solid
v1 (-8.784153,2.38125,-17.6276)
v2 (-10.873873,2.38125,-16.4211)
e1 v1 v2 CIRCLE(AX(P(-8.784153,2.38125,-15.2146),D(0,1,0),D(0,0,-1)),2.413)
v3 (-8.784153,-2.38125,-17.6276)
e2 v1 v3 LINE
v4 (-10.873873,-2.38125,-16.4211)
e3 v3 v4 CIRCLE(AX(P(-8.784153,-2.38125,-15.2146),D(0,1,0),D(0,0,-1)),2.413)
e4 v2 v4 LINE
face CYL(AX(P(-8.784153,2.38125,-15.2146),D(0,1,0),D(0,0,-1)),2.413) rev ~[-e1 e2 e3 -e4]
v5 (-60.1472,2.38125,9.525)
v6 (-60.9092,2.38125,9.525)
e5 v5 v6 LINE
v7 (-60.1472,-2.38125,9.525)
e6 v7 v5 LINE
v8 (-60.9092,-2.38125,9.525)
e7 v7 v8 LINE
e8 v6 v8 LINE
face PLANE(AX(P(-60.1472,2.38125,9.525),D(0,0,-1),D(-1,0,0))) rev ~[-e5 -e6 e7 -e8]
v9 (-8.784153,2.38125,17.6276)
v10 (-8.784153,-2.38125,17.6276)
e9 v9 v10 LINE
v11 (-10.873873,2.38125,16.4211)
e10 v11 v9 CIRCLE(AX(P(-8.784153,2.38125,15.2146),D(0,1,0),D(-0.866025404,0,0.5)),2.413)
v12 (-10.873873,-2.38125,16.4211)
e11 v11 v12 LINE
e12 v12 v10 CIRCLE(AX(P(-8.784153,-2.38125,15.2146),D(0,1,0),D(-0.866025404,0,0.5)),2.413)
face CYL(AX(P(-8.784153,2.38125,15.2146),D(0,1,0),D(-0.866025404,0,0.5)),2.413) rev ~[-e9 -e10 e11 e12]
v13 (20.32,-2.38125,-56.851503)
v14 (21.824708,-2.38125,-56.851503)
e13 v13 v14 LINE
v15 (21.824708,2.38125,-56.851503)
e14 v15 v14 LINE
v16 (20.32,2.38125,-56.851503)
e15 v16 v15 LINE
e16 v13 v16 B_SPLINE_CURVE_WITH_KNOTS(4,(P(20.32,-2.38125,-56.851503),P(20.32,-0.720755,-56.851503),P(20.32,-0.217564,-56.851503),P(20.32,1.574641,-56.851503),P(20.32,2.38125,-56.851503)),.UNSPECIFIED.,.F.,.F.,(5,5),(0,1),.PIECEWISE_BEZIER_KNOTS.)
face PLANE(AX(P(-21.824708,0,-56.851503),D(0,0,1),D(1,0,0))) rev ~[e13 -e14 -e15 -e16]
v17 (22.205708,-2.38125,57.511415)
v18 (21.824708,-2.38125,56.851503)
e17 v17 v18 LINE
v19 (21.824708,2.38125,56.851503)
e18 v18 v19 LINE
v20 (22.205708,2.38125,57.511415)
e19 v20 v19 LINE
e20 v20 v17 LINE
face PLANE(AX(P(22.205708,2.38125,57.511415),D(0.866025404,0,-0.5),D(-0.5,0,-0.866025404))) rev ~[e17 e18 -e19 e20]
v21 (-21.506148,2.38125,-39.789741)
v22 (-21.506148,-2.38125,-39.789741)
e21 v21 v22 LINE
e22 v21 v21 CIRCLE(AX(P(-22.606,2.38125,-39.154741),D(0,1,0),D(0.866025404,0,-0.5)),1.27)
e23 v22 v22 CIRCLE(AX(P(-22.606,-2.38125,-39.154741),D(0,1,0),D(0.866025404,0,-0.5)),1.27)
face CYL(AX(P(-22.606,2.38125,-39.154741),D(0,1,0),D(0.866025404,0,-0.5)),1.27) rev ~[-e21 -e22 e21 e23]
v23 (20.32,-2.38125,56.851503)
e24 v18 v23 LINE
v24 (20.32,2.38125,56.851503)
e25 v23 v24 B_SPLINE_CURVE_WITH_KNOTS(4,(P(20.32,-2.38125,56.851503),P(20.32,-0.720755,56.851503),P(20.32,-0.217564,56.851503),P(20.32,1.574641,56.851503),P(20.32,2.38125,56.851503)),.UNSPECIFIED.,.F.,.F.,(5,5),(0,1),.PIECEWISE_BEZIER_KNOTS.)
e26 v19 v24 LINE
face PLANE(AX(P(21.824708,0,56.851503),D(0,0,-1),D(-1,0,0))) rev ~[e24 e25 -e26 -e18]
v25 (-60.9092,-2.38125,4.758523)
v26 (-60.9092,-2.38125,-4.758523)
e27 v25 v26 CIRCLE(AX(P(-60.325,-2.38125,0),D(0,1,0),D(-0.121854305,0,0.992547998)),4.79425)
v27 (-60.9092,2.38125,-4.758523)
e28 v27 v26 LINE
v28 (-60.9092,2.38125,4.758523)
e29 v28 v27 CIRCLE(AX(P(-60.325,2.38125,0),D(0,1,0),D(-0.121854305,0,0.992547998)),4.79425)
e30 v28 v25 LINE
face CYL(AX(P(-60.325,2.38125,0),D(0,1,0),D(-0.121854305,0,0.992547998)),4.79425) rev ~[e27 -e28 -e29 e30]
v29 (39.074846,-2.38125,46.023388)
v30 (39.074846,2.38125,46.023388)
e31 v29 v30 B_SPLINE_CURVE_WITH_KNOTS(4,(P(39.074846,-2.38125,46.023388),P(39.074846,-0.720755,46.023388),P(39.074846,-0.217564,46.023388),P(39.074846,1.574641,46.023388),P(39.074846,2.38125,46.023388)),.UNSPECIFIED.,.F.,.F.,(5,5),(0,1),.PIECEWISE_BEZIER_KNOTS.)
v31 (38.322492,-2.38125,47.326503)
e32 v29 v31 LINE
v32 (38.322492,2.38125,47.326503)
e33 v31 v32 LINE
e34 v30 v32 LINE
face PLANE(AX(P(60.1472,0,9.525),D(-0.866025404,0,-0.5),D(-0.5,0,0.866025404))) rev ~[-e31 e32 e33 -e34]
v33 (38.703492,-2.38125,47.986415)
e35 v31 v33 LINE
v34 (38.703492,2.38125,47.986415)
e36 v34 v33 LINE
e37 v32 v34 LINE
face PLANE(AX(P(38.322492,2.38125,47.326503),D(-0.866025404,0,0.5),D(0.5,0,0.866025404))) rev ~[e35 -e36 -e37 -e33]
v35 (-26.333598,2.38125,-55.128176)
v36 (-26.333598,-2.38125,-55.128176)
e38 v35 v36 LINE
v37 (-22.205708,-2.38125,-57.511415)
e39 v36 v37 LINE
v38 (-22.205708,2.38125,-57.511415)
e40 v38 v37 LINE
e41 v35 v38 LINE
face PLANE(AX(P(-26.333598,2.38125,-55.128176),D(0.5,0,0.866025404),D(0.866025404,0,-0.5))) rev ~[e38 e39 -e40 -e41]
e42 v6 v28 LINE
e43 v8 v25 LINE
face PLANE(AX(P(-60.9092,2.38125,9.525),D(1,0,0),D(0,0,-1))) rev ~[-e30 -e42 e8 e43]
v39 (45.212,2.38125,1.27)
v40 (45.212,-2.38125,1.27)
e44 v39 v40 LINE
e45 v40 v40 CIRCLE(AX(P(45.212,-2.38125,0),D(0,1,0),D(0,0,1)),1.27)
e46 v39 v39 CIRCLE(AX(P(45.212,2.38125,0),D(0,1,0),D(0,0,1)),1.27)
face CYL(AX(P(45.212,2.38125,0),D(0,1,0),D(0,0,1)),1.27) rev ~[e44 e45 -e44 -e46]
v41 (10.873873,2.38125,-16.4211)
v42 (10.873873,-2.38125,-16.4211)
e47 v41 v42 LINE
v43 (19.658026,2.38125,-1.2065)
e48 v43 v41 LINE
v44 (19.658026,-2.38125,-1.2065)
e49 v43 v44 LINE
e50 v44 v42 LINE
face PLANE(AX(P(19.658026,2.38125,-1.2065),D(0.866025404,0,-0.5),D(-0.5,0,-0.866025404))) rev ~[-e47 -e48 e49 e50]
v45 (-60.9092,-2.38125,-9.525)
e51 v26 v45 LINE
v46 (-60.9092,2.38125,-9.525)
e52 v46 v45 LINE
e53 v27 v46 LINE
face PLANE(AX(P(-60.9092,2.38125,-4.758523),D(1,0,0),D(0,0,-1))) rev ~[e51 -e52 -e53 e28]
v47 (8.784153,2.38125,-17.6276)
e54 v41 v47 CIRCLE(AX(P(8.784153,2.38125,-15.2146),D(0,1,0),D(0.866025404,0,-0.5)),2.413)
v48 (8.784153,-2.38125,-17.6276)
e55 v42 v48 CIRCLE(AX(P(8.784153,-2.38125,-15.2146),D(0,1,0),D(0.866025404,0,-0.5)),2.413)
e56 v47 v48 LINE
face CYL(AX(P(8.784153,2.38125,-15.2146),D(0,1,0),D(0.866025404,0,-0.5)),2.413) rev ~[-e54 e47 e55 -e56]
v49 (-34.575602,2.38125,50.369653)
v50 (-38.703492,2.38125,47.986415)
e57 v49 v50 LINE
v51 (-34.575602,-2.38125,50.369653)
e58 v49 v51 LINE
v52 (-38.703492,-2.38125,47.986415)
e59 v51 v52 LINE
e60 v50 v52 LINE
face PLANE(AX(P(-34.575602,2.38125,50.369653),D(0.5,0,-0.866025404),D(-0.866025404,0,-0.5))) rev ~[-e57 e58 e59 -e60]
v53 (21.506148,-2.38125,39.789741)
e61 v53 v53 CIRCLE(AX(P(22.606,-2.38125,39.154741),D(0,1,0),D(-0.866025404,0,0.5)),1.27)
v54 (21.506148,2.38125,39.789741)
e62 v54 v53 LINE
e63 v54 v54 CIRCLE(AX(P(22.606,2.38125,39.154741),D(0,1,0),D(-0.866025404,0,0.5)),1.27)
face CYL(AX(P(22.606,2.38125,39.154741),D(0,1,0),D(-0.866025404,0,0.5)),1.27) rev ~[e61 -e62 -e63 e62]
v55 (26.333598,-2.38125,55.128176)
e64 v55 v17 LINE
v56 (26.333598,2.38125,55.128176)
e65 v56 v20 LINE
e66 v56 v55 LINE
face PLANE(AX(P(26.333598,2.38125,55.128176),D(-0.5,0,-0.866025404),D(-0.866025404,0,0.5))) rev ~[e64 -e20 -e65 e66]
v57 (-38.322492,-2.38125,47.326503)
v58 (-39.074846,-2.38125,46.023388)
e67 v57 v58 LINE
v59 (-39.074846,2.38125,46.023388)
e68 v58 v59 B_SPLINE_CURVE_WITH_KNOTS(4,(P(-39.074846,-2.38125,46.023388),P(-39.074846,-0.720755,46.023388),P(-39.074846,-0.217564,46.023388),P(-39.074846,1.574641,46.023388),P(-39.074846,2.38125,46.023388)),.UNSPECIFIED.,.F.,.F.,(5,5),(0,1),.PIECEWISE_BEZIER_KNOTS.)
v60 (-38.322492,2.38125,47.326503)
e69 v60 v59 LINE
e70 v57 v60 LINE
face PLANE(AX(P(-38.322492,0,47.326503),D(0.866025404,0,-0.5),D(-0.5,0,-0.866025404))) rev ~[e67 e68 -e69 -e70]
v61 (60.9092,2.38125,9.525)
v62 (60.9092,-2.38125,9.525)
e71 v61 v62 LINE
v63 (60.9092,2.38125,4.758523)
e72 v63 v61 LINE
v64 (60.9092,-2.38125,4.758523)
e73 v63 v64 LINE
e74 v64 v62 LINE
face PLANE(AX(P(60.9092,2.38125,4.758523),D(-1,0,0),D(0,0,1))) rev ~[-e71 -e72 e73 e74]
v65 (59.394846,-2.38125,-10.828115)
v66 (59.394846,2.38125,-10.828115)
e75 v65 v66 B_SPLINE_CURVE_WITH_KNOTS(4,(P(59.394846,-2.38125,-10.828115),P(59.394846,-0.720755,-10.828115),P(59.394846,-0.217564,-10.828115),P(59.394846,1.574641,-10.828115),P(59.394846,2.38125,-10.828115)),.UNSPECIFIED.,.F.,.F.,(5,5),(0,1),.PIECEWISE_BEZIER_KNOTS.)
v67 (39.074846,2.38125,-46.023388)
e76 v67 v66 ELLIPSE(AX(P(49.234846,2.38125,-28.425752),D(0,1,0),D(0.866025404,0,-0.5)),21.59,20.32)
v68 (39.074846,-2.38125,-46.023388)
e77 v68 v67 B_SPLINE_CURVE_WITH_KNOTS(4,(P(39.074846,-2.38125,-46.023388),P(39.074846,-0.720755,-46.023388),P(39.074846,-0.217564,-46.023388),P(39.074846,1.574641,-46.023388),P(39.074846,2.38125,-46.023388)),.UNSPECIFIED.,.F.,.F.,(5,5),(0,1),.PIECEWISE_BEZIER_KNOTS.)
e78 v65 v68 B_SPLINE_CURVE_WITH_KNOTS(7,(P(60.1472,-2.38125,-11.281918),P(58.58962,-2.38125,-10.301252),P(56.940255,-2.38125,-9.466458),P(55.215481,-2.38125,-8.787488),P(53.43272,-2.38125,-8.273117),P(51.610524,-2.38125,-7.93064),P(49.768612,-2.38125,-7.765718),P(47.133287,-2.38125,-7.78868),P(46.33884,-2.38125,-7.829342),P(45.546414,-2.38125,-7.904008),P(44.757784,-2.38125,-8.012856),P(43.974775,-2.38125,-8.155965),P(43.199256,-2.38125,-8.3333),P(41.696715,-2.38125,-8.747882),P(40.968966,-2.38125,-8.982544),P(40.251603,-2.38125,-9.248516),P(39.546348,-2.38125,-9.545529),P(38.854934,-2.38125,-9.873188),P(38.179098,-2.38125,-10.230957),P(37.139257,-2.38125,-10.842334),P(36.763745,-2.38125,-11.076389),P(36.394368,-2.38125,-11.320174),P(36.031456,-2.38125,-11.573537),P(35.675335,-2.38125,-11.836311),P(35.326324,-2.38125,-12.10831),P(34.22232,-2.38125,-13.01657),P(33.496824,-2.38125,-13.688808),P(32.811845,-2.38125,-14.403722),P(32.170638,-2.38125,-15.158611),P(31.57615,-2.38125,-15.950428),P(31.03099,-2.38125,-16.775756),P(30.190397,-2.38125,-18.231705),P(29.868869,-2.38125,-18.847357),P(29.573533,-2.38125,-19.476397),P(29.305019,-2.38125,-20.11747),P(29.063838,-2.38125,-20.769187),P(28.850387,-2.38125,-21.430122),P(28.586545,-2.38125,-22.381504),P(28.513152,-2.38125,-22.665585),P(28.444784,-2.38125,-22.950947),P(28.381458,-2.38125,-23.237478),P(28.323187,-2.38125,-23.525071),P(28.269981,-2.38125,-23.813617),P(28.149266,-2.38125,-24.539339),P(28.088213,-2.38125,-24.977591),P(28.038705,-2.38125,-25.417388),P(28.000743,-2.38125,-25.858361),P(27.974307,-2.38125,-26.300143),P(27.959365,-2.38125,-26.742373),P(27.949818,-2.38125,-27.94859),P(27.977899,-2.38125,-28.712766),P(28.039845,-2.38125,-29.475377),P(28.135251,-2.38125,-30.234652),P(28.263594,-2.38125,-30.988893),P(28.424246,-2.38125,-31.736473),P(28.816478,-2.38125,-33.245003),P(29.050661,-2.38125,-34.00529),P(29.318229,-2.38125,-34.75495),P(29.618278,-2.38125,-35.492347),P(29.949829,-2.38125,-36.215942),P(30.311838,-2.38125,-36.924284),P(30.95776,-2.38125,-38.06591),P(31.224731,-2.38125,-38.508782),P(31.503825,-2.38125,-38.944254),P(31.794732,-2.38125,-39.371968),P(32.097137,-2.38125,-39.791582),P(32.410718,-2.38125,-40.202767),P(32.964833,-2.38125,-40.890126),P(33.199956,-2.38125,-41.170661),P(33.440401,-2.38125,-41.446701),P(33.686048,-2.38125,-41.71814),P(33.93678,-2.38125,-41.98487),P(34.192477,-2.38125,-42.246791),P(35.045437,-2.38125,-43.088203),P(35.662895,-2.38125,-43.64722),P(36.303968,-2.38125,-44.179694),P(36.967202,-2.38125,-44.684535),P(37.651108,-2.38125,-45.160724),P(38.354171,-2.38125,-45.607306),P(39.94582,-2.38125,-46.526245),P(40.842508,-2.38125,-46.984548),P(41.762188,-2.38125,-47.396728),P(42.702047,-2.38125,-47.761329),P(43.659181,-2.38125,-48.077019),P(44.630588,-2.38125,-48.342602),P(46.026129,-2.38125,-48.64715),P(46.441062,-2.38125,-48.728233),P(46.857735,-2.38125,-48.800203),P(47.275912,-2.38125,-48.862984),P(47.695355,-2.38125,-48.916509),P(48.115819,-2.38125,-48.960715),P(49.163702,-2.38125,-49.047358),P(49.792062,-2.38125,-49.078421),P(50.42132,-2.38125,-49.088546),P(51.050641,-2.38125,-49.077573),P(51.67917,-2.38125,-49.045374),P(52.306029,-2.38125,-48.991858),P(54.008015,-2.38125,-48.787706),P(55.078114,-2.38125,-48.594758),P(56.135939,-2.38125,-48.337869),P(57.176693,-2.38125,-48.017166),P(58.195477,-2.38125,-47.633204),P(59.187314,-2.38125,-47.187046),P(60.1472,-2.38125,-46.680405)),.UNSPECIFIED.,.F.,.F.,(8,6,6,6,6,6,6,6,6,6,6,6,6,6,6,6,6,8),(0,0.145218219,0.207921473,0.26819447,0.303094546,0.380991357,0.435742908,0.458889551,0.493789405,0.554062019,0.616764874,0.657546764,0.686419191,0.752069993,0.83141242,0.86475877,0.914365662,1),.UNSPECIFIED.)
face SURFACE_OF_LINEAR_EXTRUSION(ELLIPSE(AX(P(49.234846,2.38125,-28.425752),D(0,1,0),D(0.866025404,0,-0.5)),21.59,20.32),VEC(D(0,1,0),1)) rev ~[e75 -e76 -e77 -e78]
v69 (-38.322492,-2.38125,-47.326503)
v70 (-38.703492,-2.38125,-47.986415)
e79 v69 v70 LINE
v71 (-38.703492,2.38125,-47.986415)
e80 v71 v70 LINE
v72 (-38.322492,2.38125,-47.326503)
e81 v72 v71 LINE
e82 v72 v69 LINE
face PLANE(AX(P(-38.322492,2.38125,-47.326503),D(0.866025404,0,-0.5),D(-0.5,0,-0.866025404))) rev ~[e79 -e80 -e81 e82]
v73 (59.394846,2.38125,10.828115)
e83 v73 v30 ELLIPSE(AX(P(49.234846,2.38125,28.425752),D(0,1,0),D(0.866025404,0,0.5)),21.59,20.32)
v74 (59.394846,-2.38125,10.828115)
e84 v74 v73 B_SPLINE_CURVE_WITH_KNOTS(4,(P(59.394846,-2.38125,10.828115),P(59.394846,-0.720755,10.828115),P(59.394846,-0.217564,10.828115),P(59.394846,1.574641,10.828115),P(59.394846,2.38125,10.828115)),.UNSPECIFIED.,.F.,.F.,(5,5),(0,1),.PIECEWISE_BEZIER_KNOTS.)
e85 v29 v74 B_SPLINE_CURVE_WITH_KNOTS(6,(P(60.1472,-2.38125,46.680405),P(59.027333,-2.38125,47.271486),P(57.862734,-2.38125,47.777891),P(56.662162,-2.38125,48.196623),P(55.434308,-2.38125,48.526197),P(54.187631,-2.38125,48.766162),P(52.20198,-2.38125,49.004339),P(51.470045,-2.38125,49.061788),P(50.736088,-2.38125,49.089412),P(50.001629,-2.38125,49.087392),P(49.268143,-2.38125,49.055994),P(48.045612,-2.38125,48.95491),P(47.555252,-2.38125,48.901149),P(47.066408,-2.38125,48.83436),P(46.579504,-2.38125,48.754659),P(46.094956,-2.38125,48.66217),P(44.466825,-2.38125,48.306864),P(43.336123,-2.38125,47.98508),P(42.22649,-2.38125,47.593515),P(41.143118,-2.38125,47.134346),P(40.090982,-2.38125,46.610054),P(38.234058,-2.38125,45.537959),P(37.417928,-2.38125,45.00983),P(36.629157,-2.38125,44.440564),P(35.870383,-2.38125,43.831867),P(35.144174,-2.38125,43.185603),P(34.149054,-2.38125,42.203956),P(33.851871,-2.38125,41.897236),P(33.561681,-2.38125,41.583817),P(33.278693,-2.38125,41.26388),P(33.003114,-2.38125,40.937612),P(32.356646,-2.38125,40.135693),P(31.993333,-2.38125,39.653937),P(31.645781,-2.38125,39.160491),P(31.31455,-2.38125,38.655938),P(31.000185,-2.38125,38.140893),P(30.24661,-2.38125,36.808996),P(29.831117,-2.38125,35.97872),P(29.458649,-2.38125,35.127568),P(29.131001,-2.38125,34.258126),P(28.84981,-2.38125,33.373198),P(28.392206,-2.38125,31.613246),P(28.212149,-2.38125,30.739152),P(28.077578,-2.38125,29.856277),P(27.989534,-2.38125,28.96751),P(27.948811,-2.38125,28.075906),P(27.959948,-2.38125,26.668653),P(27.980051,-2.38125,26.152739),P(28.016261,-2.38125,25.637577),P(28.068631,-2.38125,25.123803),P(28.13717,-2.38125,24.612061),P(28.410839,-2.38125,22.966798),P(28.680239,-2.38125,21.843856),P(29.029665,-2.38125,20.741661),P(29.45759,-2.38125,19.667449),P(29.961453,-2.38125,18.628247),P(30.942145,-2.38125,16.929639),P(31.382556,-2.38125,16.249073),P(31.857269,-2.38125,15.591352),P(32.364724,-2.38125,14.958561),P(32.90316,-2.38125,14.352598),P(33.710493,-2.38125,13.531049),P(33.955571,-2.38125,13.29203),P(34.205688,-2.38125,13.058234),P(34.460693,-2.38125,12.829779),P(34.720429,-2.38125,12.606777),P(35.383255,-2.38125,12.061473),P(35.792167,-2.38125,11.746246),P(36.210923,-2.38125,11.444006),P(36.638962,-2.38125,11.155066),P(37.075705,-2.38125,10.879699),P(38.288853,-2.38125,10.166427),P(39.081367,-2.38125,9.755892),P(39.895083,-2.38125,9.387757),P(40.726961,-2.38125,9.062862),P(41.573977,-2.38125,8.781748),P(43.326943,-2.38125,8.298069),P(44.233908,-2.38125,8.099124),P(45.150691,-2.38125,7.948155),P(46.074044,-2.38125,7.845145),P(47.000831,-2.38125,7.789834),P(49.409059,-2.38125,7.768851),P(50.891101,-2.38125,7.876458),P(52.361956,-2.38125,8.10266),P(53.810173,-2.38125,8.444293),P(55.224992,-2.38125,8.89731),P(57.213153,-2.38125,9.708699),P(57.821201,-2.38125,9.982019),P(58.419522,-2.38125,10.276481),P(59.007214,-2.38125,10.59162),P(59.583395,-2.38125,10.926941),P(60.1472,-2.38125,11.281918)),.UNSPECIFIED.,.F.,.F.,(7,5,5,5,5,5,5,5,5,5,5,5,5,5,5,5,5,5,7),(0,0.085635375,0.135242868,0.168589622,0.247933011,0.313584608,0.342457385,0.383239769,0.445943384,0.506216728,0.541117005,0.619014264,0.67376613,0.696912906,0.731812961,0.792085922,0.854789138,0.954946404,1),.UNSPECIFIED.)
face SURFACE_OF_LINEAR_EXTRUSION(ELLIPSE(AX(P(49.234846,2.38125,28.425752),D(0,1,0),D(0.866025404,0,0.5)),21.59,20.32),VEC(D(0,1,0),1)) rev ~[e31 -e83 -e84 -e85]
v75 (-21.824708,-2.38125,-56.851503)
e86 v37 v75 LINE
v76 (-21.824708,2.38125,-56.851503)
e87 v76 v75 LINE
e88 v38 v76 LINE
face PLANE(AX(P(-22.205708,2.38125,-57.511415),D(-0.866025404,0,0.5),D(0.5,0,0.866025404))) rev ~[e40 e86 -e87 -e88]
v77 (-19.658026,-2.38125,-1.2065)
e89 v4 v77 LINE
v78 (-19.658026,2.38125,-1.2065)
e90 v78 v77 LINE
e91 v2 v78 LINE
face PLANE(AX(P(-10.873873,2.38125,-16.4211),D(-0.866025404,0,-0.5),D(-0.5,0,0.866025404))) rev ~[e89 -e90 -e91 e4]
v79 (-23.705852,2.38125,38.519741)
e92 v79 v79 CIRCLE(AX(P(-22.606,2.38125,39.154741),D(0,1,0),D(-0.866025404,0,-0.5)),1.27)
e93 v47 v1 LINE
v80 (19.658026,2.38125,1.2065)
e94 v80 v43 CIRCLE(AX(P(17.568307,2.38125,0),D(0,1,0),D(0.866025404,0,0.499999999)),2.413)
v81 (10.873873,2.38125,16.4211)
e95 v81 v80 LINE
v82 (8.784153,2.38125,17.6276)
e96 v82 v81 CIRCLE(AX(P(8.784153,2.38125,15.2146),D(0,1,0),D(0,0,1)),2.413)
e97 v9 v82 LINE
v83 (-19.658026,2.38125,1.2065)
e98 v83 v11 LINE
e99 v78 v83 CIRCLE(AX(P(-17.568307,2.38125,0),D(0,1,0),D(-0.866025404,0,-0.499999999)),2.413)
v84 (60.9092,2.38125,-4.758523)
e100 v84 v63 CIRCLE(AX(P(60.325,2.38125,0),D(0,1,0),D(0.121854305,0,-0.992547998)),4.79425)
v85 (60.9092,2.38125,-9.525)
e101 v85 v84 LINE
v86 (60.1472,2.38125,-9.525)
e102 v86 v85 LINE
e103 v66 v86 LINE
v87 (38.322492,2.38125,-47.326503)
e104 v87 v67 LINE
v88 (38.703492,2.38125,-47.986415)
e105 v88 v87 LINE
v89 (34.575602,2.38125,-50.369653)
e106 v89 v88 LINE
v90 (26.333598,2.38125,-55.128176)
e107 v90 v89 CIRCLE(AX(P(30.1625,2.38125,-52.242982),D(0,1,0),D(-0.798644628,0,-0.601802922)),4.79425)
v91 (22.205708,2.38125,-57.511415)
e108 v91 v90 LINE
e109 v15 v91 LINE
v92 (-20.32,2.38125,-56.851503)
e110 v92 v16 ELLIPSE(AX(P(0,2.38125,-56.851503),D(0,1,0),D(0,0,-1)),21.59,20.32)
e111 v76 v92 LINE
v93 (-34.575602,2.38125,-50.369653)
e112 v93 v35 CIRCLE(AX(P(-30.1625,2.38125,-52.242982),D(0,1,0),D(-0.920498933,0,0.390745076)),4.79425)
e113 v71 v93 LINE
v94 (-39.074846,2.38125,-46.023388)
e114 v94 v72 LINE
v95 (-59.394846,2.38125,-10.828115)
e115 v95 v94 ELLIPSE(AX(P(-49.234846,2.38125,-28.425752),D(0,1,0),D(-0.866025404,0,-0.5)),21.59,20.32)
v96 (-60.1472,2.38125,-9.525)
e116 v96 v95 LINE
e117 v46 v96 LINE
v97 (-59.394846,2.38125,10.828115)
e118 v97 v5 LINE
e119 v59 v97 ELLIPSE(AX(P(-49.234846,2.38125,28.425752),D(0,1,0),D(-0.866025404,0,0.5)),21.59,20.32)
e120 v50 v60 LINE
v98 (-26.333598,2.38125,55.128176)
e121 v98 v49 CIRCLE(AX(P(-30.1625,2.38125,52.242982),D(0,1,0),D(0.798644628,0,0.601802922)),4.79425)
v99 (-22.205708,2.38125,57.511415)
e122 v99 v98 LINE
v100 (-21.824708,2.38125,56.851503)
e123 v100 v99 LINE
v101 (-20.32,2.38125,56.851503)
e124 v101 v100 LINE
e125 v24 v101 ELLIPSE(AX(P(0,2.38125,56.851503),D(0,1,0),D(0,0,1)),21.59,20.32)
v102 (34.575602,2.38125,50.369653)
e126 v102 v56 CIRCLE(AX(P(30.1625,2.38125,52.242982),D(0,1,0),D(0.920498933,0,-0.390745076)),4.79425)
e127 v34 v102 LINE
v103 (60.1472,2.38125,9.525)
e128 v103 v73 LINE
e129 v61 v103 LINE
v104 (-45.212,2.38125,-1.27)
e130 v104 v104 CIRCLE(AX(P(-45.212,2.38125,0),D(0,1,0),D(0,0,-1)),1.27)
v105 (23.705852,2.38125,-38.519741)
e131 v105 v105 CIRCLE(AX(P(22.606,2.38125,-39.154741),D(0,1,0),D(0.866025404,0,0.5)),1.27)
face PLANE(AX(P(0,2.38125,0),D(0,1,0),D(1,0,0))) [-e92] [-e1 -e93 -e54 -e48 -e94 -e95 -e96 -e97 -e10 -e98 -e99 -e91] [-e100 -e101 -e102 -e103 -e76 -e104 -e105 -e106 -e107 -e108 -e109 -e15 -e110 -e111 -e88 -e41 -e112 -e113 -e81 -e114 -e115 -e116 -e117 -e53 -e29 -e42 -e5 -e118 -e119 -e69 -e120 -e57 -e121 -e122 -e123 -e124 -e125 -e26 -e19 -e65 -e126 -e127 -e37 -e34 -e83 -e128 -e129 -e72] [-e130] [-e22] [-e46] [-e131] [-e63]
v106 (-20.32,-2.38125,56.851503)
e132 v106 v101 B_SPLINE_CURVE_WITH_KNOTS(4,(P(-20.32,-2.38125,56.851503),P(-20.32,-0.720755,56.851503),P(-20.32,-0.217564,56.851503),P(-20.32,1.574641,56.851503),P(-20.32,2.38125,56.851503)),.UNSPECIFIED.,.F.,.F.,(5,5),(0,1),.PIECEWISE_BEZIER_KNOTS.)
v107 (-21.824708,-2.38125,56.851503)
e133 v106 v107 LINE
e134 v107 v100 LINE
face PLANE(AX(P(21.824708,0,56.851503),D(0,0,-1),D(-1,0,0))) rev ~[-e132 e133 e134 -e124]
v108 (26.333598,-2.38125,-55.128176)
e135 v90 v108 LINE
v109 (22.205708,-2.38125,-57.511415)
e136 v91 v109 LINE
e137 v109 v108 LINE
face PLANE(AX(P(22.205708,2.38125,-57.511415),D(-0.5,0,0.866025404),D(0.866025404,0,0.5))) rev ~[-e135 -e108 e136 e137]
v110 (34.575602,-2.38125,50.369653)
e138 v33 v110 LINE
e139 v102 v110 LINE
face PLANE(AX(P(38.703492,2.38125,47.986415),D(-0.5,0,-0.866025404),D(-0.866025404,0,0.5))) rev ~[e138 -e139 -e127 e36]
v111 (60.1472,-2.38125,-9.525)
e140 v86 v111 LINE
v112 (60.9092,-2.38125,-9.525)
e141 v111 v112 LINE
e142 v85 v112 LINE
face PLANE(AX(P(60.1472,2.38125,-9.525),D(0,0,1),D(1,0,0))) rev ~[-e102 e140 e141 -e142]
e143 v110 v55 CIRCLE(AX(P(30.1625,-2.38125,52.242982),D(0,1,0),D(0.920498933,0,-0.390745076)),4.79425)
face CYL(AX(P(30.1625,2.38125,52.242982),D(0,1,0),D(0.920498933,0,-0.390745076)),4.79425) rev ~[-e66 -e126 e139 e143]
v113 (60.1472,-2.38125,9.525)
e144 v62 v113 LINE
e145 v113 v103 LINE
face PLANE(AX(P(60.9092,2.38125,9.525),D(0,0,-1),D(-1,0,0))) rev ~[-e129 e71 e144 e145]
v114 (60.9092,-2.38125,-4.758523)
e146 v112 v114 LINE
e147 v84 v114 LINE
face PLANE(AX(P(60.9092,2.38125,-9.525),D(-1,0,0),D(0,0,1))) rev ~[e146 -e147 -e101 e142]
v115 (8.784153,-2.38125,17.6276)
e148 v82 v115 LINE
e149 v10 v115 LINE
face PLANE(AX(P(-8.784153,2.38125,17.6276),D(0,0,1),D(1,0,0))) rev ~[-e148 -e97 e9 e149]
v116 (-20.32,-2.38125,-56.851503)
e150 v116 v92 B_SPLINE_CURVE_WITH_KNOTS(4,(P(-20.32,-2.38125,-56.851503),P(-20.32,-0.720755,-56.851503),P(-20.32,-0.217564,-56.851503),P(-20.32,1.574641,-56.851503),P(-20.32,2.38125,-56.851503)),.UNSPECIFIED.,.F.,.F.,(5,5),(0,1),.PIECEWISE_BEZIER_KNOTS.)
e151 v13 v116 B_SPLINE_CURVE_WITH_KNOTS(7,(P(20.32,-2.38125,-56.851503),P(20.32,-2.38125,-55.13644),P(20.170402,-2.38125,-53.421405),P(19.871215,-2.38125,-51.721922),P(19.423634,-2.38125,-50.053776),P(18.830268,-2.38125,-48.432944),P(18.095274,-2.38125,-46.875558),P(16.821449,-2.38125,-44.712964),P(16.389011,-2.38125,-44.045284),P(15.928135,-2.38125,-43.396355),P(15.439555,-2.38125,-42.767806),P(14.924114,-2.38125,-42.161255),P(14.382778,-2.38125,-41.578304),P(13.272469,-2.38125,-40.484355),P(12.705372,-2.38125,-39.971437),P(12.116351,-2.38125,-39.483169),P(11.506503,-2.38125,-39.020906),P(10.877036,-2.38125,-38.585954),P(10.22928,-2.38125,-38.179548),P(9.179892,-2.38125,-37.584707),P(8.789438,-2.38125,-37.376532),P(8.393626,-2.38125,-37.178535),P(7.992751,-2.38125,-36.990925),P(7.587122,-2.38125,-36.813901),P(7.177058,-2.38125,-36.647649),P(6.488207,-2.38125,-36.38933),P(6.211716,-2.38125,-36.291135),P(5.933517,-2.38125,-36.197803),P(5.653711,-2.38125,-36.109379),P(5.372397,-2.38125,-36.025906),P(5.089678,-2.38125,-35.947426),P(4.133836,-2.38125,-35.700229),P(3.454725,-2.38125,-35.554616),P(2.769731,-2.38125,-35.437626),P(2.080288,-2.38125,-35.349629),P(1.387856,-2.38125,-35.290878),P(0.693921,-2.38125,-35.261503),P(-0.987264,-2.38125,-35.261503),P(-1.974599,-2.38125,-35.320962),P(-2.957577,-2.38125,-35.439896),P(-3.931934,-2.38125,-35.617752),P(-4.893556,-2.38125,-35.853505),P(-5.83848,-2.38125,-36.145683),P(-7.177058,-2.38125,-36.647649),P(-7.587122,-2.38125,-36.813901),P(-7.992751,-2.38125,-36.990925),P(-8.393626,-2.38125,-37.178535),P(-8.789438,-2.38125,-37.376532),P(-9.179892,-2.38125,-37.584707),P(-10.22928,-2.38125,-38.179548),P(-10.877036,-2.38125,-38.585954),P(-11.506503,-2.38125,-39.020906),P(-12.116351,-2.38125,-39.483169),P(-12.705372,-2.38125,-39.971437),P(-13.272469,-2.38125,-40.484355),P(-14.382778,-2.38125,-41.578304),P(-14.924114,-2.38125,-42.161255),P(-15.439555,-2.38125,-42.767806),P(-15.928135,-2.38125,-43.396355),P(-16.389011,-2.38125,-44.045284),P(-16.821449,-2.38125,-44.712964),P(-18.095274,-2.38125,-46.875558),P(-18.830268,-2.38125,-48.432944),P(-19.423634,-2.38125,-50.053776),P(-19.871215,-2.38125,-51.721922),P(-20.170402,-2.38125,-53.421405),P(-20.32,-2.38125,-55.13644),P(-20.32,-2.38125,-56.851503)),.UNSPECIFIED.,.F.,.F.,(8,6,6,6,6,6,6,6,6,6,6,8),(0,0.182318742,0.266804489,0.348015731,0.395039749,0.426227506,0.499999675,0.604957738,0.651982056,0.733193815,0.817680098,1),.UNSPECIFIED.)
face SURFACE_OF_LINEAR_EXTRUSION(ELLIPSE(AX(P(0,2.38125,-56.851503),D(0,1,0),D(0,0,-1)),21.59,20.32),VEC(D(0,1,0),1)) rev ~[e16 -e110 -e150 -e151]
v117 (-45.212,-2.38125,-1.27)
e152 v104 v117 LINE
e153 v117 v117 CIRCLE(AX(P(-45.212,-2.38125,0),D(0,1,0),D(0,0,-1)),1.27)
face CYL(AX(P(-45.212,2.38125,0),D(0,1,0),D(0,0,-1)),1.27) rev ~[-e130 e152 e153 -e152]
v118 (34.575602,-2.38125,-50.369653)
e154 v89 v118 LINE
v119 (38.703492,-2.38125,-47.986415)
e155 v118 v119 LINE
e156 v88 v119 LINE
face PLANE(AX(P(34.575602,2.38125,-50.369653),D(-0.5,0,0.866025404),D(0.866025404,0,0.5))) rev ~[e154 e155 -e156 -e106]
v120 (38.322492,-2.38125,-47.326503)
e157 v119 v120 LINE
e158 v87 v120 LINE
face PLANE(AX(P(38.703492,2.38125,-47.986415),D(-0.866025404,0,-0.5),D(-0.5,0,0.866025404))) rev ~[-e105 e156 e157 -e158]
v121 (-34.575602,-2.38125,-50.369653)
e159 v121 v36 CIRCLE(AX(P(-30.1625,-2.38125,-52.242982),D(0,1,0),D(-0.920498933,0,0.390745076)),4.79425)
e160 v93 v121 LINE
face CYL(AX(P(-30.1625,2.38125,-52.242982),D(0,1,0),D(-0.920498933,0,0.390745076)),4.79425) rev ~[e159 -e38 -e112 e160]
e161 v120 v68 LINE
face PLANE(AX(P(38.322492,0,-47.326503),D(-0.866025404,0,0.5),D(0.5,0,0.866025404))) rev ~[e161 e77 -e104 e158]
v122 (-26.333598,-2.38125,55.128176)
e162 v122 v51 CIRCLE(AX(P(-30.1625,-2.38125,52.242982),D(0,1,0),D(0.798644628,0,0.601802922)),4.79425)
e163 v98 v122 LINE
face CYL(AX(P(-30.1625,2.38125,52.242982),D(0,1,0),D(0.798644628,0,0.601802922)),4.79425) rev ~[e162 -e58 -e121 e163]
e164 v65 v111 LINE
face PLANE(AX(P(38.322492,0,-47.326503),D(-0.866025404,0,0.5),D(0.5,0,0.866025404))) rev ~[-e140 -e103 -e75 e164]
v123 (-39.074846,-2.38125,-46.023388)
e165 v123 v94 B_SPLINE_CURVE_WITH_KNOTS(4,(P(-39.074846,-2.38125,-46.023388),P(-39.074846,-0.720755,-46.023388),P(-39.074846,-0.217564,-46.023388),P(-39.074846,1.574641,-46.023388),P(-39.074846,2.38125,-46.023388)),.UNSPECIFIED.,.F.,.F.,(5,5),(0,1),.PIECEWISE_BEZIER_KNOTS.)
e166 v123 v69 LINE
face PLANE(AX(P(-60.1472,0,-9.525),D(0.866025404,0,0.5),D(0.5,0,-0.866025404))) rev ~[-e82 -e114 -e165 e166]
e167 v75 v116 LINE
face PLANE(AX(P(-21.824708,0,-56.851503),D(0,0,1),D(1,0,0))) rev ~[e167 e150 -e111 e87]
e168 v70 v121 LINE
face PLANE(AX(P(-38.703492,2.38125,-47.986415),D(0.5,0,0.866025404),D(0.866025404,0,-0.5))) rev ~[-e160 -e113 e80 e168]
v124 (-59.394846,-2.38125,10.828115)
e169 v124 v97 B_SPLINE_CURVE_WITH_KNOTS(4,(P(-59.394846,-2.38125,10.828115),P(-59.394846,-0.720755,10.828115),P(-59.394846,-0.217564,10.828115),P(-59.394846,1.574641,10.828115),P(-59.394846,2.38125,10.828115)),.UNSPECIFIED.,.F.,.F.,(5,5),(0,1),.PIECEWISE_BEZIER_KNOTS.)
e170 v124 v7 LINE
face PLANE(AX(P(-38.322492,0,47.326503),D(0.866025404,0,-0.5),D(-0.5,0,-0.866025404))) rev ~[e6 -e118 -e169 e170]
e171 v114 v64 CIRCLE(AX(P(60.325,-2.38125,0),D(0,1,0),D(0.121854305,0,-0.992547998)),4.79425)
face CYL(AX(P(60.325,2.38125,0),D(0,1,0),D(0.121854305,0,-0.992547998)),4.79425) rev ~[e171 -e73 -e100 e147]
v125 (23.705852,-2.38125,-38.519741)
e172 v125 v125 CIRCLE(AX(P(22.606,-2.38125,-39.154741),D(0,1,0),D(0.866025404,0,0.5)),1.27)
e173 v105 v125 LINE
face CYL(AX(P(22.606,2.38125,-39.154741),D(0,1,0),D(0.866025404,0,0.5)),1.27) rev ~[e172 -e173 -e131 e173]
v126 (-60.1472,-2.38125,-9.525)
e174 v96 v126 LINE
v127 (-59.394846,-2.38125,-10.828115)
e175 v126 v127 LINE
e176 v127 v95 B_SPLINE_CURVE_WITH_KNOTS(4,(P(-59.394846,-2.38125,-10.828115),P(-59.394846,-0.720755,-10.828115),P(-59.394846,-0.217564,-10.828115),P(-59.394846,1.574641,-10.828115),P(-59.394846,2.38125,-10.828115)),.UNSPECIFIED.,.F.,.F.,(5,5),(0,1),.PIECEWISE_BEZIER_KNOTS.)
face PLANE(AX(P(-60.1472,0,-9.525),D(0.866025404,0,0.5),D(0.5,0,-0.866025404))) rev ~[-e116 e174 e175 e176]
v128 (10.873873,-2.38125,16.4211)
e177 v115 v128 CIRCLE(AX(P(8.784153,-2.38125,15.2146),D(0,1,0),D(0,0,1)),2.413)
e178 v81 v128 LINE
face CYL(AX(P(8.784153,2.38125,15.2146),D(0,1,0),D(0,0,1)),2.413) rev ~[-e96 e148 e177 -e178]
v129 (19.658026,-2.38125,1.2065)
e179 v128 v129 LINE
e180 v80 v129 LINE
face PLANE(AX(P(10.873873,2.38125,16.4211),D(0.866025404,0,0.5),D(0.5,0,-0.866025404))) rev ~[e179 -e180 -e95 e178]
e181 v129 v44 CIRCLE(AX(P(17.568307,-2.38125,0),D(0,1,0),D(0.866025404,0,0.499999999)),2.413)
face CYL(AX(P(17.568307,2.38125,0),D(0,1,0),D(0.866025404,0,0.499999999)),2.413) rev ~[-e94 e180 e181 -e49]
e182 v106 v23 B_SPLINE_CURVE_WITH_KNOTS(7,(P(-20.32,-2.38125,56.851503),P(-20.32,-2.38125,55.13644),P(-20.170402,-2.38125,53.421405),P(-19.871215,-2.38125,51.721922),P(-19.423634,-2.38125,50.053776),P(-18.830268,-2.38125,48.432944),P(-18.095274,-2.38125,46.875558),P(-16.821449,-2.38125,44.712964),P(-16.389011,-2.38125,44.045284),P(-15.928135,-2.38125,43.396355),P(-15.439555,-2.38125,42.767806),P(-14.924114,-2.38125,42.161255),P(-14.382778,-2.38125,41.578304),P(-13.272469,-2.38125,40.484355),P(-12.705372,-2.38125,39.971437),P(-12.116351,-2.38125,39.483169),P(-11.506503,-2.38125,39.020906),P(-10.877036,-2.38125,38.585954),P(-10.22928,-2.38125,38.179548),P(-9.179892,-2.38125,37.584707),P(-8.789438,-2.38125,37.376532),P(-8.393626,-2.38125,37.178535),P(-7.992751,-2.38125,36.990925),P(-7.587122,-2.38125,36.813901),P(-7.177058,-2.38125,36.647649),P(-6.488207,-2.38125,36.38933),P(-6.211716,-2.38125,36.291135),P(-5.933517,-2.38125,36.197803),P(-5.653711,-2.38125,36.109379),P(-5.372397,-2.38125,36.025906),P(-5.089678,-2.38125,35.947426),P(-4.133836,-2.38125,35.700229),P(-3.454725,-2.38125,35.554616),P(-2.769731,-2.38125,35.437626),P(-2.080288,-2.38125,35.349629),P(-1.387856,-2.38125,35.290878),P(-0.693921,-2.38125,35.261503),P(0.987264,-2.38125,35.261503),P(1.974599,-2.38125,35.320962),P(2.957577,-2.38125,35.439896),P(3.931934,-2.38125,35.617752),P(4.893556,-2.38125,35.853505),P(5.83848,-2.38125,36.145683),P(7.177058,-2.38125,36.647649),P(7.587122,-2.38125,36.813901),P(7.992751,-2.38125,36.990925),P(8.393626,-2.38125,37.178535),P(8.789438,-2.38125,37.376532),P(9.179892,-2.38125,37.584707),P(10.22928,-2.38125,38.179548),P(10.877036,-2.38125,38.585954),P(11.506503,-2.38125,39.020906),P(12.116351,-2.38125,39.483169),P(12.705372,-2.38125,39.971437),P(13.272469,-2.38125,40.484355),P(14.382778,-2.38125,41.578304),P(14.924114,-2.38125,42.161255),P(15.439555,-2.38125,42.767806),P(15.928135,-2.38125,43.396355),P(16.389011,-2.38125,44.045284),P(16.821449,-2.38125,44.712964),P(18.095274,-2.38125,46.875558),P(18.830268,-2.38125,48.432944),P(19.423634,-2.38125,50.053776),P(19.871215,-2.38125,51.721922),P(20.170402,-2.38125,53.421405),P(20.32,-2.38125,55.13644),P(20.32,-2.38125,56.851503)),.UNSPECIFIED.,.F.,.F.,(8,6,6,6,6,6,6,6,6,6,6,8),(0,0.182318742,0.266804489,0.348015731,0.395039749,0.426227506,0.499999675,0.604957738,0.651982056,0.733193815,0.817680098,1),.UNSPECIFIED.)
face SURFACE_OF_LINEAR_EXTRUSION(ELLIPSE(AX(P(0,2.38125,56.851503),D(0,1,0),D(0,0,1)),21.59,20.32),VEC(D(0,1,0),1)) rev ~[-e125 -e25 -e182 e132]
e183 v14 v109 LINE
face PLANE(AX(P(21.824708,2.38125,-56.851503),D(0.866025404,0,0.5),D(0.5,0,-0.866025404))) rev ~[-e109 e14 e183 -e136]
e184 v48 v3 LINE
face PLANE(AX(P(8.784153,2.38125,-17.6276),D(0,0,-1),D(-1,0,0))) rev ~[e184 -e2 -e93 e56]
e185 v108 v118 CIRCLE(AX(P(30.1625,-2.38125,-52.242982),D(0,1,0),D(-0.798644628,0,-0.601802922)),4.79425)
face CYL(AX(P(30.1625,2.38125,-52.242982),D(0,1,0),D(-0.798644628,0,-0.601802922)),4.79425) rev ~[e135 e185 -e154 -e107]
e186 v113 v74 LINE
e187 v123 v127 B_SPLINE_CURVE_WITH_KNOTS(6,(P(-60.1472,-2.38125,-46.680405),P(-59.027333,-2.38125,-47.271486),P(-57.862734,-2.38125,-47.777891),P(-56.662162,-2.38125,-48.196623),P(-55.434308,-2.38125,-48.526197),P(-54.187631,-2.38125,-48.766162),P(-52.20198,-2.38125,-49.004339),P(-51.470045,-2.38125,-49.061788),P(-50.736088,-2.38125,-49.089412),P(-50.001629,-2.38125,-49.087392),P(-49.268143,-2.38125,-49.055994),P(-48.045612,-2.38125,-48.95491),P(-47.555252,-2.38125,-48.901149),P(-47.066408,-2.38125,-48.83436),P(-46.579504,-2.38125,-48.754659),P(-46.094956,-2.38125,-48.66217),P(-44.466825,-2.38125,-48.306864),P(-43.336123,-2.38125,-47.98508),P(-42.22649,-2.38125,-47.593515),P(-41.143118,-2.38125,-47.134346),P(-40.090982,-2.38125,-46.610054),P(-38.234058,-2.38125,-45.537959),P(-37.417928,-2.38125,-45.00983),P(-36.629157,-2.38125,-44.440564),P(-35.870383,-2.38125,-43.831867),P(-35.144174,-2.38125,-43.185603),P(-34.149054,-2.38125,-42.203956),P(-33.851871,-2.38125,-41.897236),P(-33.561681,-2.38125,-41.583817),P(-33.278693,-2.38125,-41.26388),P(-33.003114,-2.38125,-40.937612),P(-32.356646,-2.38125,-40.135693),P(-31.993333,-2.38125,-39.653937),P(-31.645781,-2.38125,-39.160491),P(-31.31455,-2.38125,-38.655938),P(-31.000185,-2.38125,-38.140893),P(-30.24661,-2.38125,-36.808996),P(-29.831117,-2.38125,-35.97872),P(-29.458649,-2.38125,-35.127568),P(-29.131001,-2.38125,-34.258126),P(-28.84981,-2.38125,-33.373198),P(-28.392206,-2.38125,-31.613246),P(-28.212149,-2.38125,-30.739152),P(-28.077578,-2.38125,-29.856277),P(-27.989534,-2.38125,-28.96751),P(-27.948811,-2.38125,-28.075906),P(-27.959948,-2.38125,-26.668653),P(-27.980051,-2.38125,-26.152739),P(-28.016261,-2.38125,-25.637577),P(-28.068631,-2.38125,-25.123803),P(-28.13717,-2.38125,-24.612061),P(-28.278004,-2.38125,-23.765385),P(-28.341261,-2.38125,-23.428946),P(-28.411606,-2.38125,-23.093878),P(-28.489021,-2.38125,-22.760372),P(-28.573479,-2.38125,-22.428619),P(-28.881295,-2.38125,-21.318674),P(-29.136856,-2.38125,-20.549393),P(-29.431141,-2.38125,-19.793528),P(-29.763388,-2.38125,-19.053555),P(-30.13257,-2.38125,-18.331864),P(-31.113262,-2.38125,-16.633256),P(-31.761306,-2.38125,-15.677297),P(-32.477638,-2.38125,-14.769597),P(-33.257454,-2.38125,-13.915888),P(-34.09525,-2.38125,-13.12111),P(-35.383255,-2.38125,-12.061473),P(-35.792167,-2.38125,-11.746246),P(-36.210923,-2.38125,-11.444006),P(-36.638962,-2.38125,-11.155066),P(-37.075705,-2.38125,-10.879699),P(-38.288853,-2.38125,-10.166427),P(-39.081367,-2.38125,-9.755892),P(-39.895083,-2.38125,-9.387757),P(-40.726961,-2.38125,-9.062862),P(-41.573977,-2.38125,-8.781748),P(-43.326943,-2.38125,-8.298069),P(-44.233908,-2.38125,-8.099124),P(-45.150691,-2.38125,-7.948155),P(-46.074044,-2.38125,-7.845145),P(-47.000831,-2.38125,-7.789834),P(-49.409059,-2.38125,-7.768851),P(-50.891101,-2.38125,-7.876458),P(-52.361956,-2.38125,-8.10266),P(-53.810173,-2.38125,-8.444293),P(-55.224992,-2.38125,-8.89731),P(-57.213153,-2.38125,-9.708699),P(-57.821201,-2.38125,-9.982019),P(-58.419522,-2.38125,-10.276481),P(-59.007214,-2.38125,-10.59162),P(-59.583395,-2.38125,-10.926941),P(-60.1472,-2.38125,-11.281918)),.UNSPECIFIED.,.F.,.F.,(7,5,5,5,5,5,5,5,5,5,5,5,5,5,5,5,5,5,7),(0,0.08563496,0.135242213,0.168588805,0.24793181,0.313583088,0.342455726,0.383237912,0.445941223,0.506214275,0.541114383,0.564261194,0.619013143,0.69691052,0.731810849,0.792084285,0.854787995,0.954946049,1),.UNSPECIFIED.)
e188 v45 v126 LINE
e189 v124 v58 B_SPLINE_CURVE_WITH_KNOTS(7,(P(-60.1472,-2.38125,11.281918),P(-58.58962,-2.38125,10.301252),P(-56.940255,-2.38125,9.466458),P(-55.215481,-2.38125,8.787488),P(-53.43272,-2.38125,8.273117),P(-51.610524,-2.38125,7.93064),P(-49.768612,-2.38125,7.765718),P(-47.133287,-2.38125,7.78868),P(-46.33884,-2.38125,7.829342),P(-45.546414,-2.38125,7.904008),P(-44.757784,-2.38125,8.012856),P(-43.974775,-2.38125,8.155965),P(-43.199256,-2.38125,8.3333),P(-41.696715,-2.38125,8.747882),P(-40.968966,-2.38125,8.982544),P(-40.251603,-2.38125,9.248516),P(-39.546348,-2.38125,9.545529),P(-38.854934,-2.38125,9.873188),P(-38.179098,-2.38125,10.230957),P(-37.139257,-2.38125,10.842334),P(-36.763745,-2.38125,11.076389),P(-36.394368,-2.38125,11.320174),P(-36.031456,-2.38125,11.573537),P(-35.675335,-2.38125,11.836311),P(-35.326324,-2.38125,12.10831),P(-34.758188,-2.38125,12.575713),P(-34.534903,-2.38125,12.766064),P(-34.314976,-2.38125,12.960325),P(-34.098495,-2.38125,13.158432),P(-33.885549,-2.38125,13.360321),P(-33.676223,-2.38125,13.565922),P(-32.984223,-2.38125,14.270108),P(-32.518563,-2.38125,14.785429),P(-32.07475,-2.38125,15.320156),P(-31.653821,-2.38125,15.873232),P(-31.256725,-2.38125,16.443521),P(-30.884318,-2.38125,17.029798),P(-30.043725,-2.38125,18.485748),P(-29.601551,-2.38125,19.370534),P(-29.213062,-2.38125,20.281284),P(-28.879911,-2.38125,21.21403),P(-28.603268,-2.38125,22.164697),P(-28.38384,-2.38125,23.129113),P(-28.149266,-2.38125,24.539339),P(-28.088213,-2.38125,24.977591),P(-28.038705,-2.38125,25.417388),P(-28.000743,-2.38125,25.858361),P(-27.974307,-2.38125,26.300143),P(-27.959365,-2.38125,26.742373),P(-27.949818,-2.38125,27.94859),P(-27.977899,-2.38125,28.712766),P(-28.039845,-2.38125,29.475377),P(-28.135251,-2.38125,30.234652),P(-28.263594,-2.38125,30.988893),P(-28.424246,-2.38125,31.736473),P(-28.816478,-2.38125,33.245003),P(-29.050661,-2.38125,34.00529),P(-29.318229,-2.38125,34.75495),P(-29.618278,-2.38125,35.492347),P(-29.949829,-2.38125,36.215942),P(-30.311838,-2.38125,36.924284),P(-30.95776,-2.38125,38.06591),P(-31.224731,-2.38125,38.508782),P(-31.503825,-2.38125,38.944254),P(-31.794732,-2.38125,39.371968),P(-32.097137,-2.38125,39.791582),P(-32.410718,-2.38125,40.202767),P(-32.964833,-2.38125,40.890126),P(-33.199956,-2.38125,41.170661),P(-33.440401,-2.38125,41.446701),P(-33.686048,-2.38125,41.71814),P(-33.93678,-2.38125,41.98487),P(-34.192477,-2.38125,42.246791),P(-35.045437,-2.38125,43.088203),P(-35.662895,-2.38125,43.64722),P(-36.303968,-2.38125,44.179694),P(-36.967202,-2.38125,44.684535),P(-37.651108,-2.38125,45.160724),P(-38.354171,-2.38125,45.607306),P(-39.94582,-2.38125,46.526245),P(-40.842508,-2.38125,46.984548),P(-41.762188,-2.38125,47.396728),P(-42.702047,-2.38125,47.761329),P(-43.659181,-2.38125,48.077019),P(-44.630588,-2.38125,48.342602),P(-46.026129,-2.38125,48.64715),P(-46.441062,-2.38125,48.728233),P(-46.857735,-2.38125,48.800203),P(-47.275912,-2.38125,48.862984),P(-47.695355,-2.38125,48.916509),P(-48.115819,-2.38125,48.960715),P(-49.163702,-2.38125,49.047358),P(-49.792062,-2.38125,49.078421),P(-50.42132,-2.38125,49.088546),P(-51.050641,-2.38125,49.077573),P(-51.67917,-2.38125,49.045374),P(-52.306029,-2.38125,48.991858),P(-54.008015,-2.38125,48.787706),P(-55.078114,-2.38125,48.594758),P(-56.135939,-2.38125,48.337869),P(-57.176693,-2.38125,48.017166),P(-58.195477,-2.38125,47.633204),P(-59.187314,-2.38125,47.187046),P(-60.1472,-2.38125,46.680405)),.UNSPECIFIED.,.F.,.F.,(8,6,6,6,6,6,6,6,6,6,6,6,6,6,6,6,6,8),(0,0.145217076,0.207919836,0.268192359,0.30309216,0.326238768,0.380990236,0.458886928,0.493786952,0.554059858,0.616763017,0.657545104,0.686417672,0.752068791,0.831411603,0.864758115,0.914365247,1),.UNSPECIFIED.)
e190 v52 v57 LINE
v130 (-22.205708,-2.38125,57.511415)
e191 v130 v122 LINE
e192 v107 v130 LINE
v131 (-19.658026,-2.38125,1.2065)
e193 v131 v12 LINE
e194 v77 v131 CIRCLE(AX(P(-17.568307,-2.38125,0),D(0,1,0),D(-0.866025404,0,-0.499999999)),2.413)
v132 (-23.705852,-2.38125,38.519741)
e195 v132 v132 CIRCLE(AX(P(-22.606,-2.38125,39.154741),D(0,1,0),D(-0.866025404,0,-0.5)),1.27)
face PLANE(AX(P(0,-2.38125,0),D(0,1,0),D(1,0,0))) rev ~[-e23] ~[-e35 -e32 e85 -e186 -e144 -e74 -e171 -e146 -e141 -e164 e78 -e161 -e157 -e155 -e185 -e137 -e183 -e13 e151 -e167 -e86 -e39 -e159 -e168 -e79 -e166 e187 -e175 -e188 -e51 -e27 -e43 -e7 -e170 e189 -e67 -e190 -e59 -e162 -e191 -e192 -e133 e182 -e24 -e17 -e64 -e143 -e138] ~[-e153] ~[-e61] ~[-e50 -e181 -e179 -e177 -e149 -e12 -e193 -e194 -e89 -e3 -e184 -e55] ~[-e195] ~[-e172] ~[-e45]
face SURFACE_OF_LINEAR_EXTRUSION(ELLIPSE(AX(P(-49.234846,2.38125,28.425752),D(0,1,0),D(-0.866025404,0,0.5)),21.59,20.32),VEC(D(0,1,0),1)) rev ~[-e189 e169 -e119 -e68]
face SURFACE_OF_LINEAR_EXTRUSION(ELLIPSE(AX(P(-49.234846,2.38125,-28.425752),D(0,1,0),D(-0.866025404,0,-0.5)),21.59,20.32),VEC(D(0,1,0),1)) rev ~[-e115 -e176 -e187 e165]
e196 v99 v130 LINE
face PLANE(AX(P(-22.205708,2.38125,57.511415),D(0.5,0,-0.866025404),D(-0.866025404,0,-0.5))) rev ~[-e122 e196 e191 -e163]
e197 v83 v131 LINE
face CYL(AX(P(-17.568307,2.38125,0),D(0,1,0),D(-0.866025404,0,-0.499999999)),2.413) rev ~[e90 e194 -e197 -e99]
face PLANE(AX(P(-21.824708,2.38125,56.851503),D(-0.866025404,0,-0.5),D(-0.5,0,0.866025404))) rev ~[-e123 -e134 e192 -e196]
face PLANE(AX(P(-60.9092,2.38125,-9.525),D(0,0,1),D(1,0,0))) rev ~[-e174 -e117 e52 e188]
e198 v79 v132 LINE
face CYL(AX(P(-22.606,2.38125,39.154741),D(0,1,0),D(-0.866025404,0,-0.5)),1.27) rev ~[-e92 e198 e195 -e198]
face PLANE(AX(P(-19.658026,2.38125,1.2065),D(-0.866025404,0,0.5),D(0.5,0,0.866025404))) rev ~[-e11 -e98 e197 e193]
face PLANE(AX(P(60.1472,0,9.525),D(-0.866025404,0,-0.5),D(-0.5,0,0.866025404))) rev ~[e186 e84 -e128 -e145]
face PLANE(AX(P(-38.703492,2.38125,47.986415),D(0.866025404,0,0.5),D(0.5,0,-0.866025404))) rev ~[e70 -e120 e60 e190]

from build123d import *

# Parameters (mm, degrees)
SKETCH1_R           = 12.7
BOSS_EXTRUDE1_DEPTH = 2.38125
CUT_EXTRUDE1_DEPTH  = 83.900304501
FILLET1_R           = 3.175
SKETCH3_RX          = 21.59
SKETCH3_RY          = 20.32
CUT_EXTRUDE2_DEPTH  = 83.900304501
CIRPATTERN1_COUNT   = 6
SKETCH4_R           = 1.27
CUT_EXTRUDE3_DEPTH  = 83.900304648
CIRPATTERN2_COUNT   = 6
BOSS_EXTRUDE2_DEPTH = 4.7625


with BuildPart() as part:
    # Sketch1 → Boss-Extrude1 (new, symmetric)
    with BuildSketch(Plane(origin=(0, 0, 0), x_dir=(1, 0, 0), z_dir=(0, 1, 0))):
        with BuildLine():
            Line((-60.1472, 5.553404471), (-60.1472, 9.525))
            Line((-60.1472, 9.525), (-38.322491971, 47.326503167))
            Line((-38.322491971, 47.326503167), (-34.88298935, 49.312300931))
            ThreePointArc((-34.88298935, 49.312300931), (-27.384375, 47.431128834), (-25.26421065, 54.865705402))
            Line((-25.26421065, 54.865705402), (-21.824708029, 56.851503167))
            Line((-21.824708029, 56.851503167), (21.824708029, 56.851503167))
            Line((21.824708029, 56.851503167), (25.26421065, 54.865705402))
            ThreePointArc((25.26421065, 54.865705402), (27.384375, 47.431128834), (34.88298935, 49.312300931))
            Line((34.88298935, 49.312300931), (38.322491971, 47.326503167))
            Line((38.322491971, 47.326503167), (60.1472, 9.525))
            Line((60.1472, 9.525), (60.1472, 5.553404471))
            ThreePointArc((60.1472, 5.553404471), (54.76875, 0), (60.1472, -5.553404471))
            Line((60.1472, -5.553404471), (60.1472, -9.525))
            Line((60.1472, -9.525), (38.322491971, -47.326503167))
            Line((38.322491971, -47.326503167), (34.88298935, -49.312300931))
            ThreePointArc((34.88298935, -49.312300931), (27.384375, -47.431128834), (25.26421065, -54.865705402))
            Line((25.26421065, -54.865705402), (21.824708029, -56.851503167))
            Line((21.824708029, -56.851503167), (-21.824708029, -56.851503167))
            Line((-21.824708029, -56.851503167), (-25.26421065, -54.865705402))
            ThreePointArc((-25.26421065, -54.865705402), (-27.384375, -47.431128834), (-34.88298935, -49.312300931))
            Line((-34.88298935, -49.312300931), (-38.322491971, -47.326503167))
            Line((-38.322491971, -47.326503167), (-60.1472, -9.525))
            Line((-60.1472, -9.525), (-60.1472, -5.553404471))
            ThreePointArc((-60.1472, -5.553404471), (-54.76875, 0), (-60.1472, 5.553404471))
        make_face()
        with Locations(Location((0, 0, 0), (0, 0, 90))):
            Circle(SKETCH1_R, mode=Mode.SUBTRACT)
    extrude(amount=BOSS_EXTRUDE1_DEPTH, both=True)

    # Sketch2 → Cut-Extrude1 (cut, through all)
    with BuildSketch(Plane(origin=(0, 2.38125, 0), x_dir=(1, 0, 0), z_dir=(0, 1, 0))):
        Polygon((10.61724051, -18.3896), (21.234481021, 0), (10.61724051, 18.3896), (-10.61724051, 18.3896), (-21.234481021, 0), (-10.61724051, -18.3896), align=None)
    extrude(amount=-CUT_EXTRUDE1_DEPTH, mode=Mode.SUBTRACT)

    # Fillet1
    fillet1_edges = [part.edges().sort_by_distance(p)[0] for p in [
        (10.61724051, 0, 18.3896),
        (-10.61724051, 0, 18.3896),
        (-21.234481021, 0, 0),
        (-10.61724051, 0, -18.3896),
        (10.61724051, 0, -18.3896),
        (21.234481021, 0, 0),
    ]]
    fillet(fillet1_edges, radius=FILLET1_R)

    # Sketch3 → Cut-Extrude2 (cut, through all)
    with BuildSketch(Plane(origin=(0, 2.38125, 0), x_dir=(1, 0, 0), z_dir=(0, 1, 0))):
        with Locations(Location((0, -56.851503167), (0, 0, -90))):
            Ellipse(SKETCH3_RX, SKETCH3_RY)
    cut_extrude2 = extrude(amount=-CUT_EXTRUDE2_DEPTH, mode=Mode.SUBTRACT)

    # CirPattern1: Cut-Extrude2 ×6 about axis
    cirpattern1_axis = Axis((0, -55, 0), (0, 1, 0))
    for i in range(1, CIRPATTERN1_COUNT):
        add(cut_extrude2.rotate(cirpattern1_axis, i * 360 / CIRPATTERN1_COUNT), mode=Mode.SUBTRACT)

    # Sketch4 → Cut-Extrude3 (cut, through all)
    with BuildSketch(Plane(origin=(0, 2.38125, 0), x_dir=(1, 0, 0), z_dir=(0, 1, 0))):
        with Locations(Location((45.212, 0, 0), (0, 0, 270))):
            Circle(SKETCH4_R)
    cut_extrude3 = extrude(amount=-CUT_EXTRUDE3_DEPTH, mode=Mode.SUBTRACT)

    # CirPattern2: Cut-Extrude3 ×6 about axis
    cirpattern2_axis = Axis((0, 0, 0), (0, 1, 0))
    for i in range(1, CIRPATTERN2_COUNT):
        add(cut_extrude3.rotate(cirpattern2_axis, i * 360 / CIRPATTERN2_COUNT), mode=Mode.SUBTRACT)

    # Sketch6 → Boss-Extrude2 (add)
    # profile 1 of 7: a face of its own
    with BuildSketch(Plane(origin=(0, 2.38125, 0), x_dir=(1, 0, 0), z_dir=(0, 1, 0))):
        with BuildLine():
            Line((11.533784063, -16.8021), (20.317937468, -1.5875))
            ThreePointArc((20.317937468, -1.5875), (20.743306811, 0), (20.317937468, 1.5875))
            Line((20.317937468, 1.5875), (11.533784063, 16.8021))
            ThreePointArc((11.533784063, 16.8021), (10.371653406, 17.964230657), (8.784153406, 18.3896))
            Line((8.784153406, 18.3896), (-8.784153406, 18.3896))
            ThreePointArc((-8.784153406, 18.3896), (-10.371653406, 17.964230657), (-11.533784063, 16.8021))
            Line((-11.533784063, 16.8021), (-20.317937468, 1.5875))
            ThreePointArc((-20.317937468, 1.5875), (-20.743306811, 0), (-20.317937468, -1.5875))
            Line((-20.317937468, -1.5875), (-11.533784063, -16.8021))
            ThreePointArc((-11.533784063, -16.8021), (-10.371653406, -17.964230657), (-8.784153406, -18.3896))
            Line((-8.784153406, -18.3896), (8.784153406, -18.3896))
            ThreePointArc((8.784153406, -18.3896), (10.371653406, -17.964230657), (11.533784063, -16.8021))
        make_face()
        with BuildLine():
            Line((19.658026111, 1.2065), (10.873872705, 16.4211))
            ThreePointArc((10.873872705, 16.4211), (9.990653406, 17.304319299), (8.784153406, 17.6276))
            Line((8.784153406, 17.6276), (-8.784153406, 17.6276))
            ThreePointArc((-8.784153406, 17.6276), (-9.990653406, 17.304319299), (-10.873872705, 16.4211))
            Line((-10.873872705, 16.4211), (-19.658026111, 1.2065))
            ThreePointArc((-19.658026111, 1.2065), (-19.981306811, 0), (-19.658026111, -1.2065))
            Line((-19.658026111, -1.2065), (-10.873872705, -16.4211))
            ThreePointArc((-10.873872705, -16.4211), (-9.990653406, -17.304319299), (-8.784153406, -17.6276))
            Line((-8.784153406, -17.6276), (8.784153406, -17.6276))
            ThreePointArc((8.784153406, -17.6276), (9.990653406, -17.304319299), (10.873872705, -16.4211))
            Line((10.873872705, -16.4211), (19.658026111, -1.2065))
            ThreePointArc((19.658026111, -1.2065), (19.981306811, 0), (19.658026111, 1.2065))
        make_face(mode=Mode.SUBTRACT)
    # profile 2 of 7: a face of its own
    with BuildSketch(Plane(origin=(0, 2.38125, 0), x_dir=(1, 0, 0), z_dir=(0, 1, 0))):
        with BuildLine():
            Line((-60.1472, -5.553404471), (-60.1472, -9.525))
            Line((-60.1472, -9.525), (-60.9092, -9.525))
            Line((-60.9092, -9.525), (-60.9092, -4.75852324))
            ThreePointArc((-60.9092, -4.75852324), (-55.53075, 0), (-60.9092, 4.75852324))
            Line((-60.9092, 4.75852324), (-60.9092, 9.525))
            Line((-60.9092, 9.525), (-60.1472, 9.525))
            Line((-60.1472, 9.525), (-60.1472, 5.553404471))
            ThreePointArc((-60.1472, 5.553404471), (-54.76875, 0), (-60.1472, -5.553404471))
        make_face()
    # profile 3 of 7: a face of its own
    with BuildSketch(Plane(origin=(0, 2.38125, 0), x_dir=(1, 0, 0), z_dir=(0, 1, 0))):
        with BuildLine():
            Line((-34.88298935, 49.312300931), (-38.322491971, 47.326503167))
            Line((-38.322491971, 47.326503167), (-38.703491971, 47.986414524))
            Line((-38.703491971, 47.986414524), (-34.57560201, 50.369652904))
            ThreePointArc((-34.57560201, 50.369652904), (-27.765375, 48.091040191), (-26.33359799, 55.128176144))
            Line((-26.33359799, 55.128176144), (-22.205708029, 57.511414524))
            Line((-22.205708029, 57.511414524), (-21.824708029, 56.851503167))
            Line((-21.824708029, 56.851503167), (-25.26421065, 54.865705402))
            ThreePointArc((-25.26421065, 54.865705402), (-27.384375, 47.431128834), (-34.88298935, 49.312300931))
        make_face()
    # profile 4 of 7: a face of its own
    with BuildSketch(Plane(origin=(0, 2.38125, 0), x_dir=(1, 0, 0), z_dir=(0, 1, 0))):
        with BuildLine():
            Line((25.26421065, 54.865705402), (21.824708029, 56.851503167))
            Line((21.824708029, 56.851503167), (22.205708029, 57.511414524))
            Line((22.205708029, 57.511414524), (26.33359799, 55.128176144))
            ThreePointArc((26.33359799, 55.128176144), (27.765375, 48.091040191), (34.57560201, 50.369652904))
            Line((34.57560201, 50.369652904), (38.703491971, 47.986414524))
            Line((38.703491971, 47.986414524), (38.322491971, 47.326503167))
            Line((38.322491971, 47.326503167), (34.88298935, 49.312300931))
            ThreePointArc((34.88298935, 49.312300931), (27.384375, 47.431128834), (25.26421065, 54.865705402))
        make_face()
    # profile 5 of 7: a face of its own
    with BuildSketch(Plane(origin=(0, 2.38125, 0), x_dir=(1, 0, 0), z_dir=(0, 1, 0))):
        with BuildLine():
            Line((60.1472, 5.553404471), (60.1472, 9.525))
            Line((60.1472, 9.525), (60.9092, 9.525))
            Line((60.9092, 9.525), (60.9092, 4.75852324))
            ThreePointArc((60.9092, 4.75852324), (55.53075, 0), (60.9092, -4.75852324))
            Line((60.9092, -4.75852324), (60.9092, -9.525))
            Line((60.9092, -9.525), (60.1472, -9.525))
            Line((60.1472, -9.525), (60.1472, -5.553404471))
            ThreePointArc((60.1472, -5.553404471), (54.76875, 0), (60.1472, 5.553404471))
        make_face()
    # profile 6 of 7: a face of its own
    with BuildSketch(Plane(origin=(0, 2.38125, 0), x_dir=(1, 0, 0), z_dir=(0, 1, 0))):
        with BuildLine():
            Line((34.88298935, -49.312300931), (38.322491971, -47.326503167))
            Line((38.322491971, -47.326503167), (38.703491971, -47.986414524))
            Line((38.703491971, -47.986414524), (34.57560201, -50.369652904))
            ThreePointArc((34.57560201, -50.369652904), (27.765375, -48.091040191), (26.33359799, -55.128176144))
            Line((26.33359799, -55.128176144), (22.205708029, -57.511414524))
            Line((22.205708029, -57.511414524), (21.824708029, -56.851503167))
            Line((21.824708029, -56.851503167), (25.26421065, -54.865705402))
            ThreePointArc((25.26421065, -54.865705402), (27.384375, -47.431128834), (34.88298935, -49.312300931))
        make_face()
    # profile 7 of 7: a face of its own
    with BuildSketch(Plane(origin=(0, 2.38125, 0), x_dir=(1, 0, 0), z_dir=(0, 1, 0))):
        with BuildLine():
            Line((-25.26421065, -54.865705402), (-21.824708029, -56.851503167))
            Line((-21.824708029, -56.851503167), (-22.205708029, -57.511414524))
            Line((-22.205708029, -57.511414524), (-26.33359799, -55.128176144))
            ThreePointArc((-26.33359799, -55.128176144), (-27.765375, -48.091040191), (-34.57560201, -50.369652904))
            Line((-34.57560201, -50.369652904), (-38.703491971, -47.986414524))
            Line((-38.703491971, -47.986414524), (-38.322491971, -47.326503167))
            Line((-38.322491971, -47.326503167), (-34.88298935, -49.312300931))
            ThreePointArc((-34.88298935, -49.312300931), (-27.384375, -47.431128834), (-25.26421065, -54.865705402))
        make_face()
    extrude(amount=-BOSS_EXTRUDE2_DEPTH)


solid = part.part
